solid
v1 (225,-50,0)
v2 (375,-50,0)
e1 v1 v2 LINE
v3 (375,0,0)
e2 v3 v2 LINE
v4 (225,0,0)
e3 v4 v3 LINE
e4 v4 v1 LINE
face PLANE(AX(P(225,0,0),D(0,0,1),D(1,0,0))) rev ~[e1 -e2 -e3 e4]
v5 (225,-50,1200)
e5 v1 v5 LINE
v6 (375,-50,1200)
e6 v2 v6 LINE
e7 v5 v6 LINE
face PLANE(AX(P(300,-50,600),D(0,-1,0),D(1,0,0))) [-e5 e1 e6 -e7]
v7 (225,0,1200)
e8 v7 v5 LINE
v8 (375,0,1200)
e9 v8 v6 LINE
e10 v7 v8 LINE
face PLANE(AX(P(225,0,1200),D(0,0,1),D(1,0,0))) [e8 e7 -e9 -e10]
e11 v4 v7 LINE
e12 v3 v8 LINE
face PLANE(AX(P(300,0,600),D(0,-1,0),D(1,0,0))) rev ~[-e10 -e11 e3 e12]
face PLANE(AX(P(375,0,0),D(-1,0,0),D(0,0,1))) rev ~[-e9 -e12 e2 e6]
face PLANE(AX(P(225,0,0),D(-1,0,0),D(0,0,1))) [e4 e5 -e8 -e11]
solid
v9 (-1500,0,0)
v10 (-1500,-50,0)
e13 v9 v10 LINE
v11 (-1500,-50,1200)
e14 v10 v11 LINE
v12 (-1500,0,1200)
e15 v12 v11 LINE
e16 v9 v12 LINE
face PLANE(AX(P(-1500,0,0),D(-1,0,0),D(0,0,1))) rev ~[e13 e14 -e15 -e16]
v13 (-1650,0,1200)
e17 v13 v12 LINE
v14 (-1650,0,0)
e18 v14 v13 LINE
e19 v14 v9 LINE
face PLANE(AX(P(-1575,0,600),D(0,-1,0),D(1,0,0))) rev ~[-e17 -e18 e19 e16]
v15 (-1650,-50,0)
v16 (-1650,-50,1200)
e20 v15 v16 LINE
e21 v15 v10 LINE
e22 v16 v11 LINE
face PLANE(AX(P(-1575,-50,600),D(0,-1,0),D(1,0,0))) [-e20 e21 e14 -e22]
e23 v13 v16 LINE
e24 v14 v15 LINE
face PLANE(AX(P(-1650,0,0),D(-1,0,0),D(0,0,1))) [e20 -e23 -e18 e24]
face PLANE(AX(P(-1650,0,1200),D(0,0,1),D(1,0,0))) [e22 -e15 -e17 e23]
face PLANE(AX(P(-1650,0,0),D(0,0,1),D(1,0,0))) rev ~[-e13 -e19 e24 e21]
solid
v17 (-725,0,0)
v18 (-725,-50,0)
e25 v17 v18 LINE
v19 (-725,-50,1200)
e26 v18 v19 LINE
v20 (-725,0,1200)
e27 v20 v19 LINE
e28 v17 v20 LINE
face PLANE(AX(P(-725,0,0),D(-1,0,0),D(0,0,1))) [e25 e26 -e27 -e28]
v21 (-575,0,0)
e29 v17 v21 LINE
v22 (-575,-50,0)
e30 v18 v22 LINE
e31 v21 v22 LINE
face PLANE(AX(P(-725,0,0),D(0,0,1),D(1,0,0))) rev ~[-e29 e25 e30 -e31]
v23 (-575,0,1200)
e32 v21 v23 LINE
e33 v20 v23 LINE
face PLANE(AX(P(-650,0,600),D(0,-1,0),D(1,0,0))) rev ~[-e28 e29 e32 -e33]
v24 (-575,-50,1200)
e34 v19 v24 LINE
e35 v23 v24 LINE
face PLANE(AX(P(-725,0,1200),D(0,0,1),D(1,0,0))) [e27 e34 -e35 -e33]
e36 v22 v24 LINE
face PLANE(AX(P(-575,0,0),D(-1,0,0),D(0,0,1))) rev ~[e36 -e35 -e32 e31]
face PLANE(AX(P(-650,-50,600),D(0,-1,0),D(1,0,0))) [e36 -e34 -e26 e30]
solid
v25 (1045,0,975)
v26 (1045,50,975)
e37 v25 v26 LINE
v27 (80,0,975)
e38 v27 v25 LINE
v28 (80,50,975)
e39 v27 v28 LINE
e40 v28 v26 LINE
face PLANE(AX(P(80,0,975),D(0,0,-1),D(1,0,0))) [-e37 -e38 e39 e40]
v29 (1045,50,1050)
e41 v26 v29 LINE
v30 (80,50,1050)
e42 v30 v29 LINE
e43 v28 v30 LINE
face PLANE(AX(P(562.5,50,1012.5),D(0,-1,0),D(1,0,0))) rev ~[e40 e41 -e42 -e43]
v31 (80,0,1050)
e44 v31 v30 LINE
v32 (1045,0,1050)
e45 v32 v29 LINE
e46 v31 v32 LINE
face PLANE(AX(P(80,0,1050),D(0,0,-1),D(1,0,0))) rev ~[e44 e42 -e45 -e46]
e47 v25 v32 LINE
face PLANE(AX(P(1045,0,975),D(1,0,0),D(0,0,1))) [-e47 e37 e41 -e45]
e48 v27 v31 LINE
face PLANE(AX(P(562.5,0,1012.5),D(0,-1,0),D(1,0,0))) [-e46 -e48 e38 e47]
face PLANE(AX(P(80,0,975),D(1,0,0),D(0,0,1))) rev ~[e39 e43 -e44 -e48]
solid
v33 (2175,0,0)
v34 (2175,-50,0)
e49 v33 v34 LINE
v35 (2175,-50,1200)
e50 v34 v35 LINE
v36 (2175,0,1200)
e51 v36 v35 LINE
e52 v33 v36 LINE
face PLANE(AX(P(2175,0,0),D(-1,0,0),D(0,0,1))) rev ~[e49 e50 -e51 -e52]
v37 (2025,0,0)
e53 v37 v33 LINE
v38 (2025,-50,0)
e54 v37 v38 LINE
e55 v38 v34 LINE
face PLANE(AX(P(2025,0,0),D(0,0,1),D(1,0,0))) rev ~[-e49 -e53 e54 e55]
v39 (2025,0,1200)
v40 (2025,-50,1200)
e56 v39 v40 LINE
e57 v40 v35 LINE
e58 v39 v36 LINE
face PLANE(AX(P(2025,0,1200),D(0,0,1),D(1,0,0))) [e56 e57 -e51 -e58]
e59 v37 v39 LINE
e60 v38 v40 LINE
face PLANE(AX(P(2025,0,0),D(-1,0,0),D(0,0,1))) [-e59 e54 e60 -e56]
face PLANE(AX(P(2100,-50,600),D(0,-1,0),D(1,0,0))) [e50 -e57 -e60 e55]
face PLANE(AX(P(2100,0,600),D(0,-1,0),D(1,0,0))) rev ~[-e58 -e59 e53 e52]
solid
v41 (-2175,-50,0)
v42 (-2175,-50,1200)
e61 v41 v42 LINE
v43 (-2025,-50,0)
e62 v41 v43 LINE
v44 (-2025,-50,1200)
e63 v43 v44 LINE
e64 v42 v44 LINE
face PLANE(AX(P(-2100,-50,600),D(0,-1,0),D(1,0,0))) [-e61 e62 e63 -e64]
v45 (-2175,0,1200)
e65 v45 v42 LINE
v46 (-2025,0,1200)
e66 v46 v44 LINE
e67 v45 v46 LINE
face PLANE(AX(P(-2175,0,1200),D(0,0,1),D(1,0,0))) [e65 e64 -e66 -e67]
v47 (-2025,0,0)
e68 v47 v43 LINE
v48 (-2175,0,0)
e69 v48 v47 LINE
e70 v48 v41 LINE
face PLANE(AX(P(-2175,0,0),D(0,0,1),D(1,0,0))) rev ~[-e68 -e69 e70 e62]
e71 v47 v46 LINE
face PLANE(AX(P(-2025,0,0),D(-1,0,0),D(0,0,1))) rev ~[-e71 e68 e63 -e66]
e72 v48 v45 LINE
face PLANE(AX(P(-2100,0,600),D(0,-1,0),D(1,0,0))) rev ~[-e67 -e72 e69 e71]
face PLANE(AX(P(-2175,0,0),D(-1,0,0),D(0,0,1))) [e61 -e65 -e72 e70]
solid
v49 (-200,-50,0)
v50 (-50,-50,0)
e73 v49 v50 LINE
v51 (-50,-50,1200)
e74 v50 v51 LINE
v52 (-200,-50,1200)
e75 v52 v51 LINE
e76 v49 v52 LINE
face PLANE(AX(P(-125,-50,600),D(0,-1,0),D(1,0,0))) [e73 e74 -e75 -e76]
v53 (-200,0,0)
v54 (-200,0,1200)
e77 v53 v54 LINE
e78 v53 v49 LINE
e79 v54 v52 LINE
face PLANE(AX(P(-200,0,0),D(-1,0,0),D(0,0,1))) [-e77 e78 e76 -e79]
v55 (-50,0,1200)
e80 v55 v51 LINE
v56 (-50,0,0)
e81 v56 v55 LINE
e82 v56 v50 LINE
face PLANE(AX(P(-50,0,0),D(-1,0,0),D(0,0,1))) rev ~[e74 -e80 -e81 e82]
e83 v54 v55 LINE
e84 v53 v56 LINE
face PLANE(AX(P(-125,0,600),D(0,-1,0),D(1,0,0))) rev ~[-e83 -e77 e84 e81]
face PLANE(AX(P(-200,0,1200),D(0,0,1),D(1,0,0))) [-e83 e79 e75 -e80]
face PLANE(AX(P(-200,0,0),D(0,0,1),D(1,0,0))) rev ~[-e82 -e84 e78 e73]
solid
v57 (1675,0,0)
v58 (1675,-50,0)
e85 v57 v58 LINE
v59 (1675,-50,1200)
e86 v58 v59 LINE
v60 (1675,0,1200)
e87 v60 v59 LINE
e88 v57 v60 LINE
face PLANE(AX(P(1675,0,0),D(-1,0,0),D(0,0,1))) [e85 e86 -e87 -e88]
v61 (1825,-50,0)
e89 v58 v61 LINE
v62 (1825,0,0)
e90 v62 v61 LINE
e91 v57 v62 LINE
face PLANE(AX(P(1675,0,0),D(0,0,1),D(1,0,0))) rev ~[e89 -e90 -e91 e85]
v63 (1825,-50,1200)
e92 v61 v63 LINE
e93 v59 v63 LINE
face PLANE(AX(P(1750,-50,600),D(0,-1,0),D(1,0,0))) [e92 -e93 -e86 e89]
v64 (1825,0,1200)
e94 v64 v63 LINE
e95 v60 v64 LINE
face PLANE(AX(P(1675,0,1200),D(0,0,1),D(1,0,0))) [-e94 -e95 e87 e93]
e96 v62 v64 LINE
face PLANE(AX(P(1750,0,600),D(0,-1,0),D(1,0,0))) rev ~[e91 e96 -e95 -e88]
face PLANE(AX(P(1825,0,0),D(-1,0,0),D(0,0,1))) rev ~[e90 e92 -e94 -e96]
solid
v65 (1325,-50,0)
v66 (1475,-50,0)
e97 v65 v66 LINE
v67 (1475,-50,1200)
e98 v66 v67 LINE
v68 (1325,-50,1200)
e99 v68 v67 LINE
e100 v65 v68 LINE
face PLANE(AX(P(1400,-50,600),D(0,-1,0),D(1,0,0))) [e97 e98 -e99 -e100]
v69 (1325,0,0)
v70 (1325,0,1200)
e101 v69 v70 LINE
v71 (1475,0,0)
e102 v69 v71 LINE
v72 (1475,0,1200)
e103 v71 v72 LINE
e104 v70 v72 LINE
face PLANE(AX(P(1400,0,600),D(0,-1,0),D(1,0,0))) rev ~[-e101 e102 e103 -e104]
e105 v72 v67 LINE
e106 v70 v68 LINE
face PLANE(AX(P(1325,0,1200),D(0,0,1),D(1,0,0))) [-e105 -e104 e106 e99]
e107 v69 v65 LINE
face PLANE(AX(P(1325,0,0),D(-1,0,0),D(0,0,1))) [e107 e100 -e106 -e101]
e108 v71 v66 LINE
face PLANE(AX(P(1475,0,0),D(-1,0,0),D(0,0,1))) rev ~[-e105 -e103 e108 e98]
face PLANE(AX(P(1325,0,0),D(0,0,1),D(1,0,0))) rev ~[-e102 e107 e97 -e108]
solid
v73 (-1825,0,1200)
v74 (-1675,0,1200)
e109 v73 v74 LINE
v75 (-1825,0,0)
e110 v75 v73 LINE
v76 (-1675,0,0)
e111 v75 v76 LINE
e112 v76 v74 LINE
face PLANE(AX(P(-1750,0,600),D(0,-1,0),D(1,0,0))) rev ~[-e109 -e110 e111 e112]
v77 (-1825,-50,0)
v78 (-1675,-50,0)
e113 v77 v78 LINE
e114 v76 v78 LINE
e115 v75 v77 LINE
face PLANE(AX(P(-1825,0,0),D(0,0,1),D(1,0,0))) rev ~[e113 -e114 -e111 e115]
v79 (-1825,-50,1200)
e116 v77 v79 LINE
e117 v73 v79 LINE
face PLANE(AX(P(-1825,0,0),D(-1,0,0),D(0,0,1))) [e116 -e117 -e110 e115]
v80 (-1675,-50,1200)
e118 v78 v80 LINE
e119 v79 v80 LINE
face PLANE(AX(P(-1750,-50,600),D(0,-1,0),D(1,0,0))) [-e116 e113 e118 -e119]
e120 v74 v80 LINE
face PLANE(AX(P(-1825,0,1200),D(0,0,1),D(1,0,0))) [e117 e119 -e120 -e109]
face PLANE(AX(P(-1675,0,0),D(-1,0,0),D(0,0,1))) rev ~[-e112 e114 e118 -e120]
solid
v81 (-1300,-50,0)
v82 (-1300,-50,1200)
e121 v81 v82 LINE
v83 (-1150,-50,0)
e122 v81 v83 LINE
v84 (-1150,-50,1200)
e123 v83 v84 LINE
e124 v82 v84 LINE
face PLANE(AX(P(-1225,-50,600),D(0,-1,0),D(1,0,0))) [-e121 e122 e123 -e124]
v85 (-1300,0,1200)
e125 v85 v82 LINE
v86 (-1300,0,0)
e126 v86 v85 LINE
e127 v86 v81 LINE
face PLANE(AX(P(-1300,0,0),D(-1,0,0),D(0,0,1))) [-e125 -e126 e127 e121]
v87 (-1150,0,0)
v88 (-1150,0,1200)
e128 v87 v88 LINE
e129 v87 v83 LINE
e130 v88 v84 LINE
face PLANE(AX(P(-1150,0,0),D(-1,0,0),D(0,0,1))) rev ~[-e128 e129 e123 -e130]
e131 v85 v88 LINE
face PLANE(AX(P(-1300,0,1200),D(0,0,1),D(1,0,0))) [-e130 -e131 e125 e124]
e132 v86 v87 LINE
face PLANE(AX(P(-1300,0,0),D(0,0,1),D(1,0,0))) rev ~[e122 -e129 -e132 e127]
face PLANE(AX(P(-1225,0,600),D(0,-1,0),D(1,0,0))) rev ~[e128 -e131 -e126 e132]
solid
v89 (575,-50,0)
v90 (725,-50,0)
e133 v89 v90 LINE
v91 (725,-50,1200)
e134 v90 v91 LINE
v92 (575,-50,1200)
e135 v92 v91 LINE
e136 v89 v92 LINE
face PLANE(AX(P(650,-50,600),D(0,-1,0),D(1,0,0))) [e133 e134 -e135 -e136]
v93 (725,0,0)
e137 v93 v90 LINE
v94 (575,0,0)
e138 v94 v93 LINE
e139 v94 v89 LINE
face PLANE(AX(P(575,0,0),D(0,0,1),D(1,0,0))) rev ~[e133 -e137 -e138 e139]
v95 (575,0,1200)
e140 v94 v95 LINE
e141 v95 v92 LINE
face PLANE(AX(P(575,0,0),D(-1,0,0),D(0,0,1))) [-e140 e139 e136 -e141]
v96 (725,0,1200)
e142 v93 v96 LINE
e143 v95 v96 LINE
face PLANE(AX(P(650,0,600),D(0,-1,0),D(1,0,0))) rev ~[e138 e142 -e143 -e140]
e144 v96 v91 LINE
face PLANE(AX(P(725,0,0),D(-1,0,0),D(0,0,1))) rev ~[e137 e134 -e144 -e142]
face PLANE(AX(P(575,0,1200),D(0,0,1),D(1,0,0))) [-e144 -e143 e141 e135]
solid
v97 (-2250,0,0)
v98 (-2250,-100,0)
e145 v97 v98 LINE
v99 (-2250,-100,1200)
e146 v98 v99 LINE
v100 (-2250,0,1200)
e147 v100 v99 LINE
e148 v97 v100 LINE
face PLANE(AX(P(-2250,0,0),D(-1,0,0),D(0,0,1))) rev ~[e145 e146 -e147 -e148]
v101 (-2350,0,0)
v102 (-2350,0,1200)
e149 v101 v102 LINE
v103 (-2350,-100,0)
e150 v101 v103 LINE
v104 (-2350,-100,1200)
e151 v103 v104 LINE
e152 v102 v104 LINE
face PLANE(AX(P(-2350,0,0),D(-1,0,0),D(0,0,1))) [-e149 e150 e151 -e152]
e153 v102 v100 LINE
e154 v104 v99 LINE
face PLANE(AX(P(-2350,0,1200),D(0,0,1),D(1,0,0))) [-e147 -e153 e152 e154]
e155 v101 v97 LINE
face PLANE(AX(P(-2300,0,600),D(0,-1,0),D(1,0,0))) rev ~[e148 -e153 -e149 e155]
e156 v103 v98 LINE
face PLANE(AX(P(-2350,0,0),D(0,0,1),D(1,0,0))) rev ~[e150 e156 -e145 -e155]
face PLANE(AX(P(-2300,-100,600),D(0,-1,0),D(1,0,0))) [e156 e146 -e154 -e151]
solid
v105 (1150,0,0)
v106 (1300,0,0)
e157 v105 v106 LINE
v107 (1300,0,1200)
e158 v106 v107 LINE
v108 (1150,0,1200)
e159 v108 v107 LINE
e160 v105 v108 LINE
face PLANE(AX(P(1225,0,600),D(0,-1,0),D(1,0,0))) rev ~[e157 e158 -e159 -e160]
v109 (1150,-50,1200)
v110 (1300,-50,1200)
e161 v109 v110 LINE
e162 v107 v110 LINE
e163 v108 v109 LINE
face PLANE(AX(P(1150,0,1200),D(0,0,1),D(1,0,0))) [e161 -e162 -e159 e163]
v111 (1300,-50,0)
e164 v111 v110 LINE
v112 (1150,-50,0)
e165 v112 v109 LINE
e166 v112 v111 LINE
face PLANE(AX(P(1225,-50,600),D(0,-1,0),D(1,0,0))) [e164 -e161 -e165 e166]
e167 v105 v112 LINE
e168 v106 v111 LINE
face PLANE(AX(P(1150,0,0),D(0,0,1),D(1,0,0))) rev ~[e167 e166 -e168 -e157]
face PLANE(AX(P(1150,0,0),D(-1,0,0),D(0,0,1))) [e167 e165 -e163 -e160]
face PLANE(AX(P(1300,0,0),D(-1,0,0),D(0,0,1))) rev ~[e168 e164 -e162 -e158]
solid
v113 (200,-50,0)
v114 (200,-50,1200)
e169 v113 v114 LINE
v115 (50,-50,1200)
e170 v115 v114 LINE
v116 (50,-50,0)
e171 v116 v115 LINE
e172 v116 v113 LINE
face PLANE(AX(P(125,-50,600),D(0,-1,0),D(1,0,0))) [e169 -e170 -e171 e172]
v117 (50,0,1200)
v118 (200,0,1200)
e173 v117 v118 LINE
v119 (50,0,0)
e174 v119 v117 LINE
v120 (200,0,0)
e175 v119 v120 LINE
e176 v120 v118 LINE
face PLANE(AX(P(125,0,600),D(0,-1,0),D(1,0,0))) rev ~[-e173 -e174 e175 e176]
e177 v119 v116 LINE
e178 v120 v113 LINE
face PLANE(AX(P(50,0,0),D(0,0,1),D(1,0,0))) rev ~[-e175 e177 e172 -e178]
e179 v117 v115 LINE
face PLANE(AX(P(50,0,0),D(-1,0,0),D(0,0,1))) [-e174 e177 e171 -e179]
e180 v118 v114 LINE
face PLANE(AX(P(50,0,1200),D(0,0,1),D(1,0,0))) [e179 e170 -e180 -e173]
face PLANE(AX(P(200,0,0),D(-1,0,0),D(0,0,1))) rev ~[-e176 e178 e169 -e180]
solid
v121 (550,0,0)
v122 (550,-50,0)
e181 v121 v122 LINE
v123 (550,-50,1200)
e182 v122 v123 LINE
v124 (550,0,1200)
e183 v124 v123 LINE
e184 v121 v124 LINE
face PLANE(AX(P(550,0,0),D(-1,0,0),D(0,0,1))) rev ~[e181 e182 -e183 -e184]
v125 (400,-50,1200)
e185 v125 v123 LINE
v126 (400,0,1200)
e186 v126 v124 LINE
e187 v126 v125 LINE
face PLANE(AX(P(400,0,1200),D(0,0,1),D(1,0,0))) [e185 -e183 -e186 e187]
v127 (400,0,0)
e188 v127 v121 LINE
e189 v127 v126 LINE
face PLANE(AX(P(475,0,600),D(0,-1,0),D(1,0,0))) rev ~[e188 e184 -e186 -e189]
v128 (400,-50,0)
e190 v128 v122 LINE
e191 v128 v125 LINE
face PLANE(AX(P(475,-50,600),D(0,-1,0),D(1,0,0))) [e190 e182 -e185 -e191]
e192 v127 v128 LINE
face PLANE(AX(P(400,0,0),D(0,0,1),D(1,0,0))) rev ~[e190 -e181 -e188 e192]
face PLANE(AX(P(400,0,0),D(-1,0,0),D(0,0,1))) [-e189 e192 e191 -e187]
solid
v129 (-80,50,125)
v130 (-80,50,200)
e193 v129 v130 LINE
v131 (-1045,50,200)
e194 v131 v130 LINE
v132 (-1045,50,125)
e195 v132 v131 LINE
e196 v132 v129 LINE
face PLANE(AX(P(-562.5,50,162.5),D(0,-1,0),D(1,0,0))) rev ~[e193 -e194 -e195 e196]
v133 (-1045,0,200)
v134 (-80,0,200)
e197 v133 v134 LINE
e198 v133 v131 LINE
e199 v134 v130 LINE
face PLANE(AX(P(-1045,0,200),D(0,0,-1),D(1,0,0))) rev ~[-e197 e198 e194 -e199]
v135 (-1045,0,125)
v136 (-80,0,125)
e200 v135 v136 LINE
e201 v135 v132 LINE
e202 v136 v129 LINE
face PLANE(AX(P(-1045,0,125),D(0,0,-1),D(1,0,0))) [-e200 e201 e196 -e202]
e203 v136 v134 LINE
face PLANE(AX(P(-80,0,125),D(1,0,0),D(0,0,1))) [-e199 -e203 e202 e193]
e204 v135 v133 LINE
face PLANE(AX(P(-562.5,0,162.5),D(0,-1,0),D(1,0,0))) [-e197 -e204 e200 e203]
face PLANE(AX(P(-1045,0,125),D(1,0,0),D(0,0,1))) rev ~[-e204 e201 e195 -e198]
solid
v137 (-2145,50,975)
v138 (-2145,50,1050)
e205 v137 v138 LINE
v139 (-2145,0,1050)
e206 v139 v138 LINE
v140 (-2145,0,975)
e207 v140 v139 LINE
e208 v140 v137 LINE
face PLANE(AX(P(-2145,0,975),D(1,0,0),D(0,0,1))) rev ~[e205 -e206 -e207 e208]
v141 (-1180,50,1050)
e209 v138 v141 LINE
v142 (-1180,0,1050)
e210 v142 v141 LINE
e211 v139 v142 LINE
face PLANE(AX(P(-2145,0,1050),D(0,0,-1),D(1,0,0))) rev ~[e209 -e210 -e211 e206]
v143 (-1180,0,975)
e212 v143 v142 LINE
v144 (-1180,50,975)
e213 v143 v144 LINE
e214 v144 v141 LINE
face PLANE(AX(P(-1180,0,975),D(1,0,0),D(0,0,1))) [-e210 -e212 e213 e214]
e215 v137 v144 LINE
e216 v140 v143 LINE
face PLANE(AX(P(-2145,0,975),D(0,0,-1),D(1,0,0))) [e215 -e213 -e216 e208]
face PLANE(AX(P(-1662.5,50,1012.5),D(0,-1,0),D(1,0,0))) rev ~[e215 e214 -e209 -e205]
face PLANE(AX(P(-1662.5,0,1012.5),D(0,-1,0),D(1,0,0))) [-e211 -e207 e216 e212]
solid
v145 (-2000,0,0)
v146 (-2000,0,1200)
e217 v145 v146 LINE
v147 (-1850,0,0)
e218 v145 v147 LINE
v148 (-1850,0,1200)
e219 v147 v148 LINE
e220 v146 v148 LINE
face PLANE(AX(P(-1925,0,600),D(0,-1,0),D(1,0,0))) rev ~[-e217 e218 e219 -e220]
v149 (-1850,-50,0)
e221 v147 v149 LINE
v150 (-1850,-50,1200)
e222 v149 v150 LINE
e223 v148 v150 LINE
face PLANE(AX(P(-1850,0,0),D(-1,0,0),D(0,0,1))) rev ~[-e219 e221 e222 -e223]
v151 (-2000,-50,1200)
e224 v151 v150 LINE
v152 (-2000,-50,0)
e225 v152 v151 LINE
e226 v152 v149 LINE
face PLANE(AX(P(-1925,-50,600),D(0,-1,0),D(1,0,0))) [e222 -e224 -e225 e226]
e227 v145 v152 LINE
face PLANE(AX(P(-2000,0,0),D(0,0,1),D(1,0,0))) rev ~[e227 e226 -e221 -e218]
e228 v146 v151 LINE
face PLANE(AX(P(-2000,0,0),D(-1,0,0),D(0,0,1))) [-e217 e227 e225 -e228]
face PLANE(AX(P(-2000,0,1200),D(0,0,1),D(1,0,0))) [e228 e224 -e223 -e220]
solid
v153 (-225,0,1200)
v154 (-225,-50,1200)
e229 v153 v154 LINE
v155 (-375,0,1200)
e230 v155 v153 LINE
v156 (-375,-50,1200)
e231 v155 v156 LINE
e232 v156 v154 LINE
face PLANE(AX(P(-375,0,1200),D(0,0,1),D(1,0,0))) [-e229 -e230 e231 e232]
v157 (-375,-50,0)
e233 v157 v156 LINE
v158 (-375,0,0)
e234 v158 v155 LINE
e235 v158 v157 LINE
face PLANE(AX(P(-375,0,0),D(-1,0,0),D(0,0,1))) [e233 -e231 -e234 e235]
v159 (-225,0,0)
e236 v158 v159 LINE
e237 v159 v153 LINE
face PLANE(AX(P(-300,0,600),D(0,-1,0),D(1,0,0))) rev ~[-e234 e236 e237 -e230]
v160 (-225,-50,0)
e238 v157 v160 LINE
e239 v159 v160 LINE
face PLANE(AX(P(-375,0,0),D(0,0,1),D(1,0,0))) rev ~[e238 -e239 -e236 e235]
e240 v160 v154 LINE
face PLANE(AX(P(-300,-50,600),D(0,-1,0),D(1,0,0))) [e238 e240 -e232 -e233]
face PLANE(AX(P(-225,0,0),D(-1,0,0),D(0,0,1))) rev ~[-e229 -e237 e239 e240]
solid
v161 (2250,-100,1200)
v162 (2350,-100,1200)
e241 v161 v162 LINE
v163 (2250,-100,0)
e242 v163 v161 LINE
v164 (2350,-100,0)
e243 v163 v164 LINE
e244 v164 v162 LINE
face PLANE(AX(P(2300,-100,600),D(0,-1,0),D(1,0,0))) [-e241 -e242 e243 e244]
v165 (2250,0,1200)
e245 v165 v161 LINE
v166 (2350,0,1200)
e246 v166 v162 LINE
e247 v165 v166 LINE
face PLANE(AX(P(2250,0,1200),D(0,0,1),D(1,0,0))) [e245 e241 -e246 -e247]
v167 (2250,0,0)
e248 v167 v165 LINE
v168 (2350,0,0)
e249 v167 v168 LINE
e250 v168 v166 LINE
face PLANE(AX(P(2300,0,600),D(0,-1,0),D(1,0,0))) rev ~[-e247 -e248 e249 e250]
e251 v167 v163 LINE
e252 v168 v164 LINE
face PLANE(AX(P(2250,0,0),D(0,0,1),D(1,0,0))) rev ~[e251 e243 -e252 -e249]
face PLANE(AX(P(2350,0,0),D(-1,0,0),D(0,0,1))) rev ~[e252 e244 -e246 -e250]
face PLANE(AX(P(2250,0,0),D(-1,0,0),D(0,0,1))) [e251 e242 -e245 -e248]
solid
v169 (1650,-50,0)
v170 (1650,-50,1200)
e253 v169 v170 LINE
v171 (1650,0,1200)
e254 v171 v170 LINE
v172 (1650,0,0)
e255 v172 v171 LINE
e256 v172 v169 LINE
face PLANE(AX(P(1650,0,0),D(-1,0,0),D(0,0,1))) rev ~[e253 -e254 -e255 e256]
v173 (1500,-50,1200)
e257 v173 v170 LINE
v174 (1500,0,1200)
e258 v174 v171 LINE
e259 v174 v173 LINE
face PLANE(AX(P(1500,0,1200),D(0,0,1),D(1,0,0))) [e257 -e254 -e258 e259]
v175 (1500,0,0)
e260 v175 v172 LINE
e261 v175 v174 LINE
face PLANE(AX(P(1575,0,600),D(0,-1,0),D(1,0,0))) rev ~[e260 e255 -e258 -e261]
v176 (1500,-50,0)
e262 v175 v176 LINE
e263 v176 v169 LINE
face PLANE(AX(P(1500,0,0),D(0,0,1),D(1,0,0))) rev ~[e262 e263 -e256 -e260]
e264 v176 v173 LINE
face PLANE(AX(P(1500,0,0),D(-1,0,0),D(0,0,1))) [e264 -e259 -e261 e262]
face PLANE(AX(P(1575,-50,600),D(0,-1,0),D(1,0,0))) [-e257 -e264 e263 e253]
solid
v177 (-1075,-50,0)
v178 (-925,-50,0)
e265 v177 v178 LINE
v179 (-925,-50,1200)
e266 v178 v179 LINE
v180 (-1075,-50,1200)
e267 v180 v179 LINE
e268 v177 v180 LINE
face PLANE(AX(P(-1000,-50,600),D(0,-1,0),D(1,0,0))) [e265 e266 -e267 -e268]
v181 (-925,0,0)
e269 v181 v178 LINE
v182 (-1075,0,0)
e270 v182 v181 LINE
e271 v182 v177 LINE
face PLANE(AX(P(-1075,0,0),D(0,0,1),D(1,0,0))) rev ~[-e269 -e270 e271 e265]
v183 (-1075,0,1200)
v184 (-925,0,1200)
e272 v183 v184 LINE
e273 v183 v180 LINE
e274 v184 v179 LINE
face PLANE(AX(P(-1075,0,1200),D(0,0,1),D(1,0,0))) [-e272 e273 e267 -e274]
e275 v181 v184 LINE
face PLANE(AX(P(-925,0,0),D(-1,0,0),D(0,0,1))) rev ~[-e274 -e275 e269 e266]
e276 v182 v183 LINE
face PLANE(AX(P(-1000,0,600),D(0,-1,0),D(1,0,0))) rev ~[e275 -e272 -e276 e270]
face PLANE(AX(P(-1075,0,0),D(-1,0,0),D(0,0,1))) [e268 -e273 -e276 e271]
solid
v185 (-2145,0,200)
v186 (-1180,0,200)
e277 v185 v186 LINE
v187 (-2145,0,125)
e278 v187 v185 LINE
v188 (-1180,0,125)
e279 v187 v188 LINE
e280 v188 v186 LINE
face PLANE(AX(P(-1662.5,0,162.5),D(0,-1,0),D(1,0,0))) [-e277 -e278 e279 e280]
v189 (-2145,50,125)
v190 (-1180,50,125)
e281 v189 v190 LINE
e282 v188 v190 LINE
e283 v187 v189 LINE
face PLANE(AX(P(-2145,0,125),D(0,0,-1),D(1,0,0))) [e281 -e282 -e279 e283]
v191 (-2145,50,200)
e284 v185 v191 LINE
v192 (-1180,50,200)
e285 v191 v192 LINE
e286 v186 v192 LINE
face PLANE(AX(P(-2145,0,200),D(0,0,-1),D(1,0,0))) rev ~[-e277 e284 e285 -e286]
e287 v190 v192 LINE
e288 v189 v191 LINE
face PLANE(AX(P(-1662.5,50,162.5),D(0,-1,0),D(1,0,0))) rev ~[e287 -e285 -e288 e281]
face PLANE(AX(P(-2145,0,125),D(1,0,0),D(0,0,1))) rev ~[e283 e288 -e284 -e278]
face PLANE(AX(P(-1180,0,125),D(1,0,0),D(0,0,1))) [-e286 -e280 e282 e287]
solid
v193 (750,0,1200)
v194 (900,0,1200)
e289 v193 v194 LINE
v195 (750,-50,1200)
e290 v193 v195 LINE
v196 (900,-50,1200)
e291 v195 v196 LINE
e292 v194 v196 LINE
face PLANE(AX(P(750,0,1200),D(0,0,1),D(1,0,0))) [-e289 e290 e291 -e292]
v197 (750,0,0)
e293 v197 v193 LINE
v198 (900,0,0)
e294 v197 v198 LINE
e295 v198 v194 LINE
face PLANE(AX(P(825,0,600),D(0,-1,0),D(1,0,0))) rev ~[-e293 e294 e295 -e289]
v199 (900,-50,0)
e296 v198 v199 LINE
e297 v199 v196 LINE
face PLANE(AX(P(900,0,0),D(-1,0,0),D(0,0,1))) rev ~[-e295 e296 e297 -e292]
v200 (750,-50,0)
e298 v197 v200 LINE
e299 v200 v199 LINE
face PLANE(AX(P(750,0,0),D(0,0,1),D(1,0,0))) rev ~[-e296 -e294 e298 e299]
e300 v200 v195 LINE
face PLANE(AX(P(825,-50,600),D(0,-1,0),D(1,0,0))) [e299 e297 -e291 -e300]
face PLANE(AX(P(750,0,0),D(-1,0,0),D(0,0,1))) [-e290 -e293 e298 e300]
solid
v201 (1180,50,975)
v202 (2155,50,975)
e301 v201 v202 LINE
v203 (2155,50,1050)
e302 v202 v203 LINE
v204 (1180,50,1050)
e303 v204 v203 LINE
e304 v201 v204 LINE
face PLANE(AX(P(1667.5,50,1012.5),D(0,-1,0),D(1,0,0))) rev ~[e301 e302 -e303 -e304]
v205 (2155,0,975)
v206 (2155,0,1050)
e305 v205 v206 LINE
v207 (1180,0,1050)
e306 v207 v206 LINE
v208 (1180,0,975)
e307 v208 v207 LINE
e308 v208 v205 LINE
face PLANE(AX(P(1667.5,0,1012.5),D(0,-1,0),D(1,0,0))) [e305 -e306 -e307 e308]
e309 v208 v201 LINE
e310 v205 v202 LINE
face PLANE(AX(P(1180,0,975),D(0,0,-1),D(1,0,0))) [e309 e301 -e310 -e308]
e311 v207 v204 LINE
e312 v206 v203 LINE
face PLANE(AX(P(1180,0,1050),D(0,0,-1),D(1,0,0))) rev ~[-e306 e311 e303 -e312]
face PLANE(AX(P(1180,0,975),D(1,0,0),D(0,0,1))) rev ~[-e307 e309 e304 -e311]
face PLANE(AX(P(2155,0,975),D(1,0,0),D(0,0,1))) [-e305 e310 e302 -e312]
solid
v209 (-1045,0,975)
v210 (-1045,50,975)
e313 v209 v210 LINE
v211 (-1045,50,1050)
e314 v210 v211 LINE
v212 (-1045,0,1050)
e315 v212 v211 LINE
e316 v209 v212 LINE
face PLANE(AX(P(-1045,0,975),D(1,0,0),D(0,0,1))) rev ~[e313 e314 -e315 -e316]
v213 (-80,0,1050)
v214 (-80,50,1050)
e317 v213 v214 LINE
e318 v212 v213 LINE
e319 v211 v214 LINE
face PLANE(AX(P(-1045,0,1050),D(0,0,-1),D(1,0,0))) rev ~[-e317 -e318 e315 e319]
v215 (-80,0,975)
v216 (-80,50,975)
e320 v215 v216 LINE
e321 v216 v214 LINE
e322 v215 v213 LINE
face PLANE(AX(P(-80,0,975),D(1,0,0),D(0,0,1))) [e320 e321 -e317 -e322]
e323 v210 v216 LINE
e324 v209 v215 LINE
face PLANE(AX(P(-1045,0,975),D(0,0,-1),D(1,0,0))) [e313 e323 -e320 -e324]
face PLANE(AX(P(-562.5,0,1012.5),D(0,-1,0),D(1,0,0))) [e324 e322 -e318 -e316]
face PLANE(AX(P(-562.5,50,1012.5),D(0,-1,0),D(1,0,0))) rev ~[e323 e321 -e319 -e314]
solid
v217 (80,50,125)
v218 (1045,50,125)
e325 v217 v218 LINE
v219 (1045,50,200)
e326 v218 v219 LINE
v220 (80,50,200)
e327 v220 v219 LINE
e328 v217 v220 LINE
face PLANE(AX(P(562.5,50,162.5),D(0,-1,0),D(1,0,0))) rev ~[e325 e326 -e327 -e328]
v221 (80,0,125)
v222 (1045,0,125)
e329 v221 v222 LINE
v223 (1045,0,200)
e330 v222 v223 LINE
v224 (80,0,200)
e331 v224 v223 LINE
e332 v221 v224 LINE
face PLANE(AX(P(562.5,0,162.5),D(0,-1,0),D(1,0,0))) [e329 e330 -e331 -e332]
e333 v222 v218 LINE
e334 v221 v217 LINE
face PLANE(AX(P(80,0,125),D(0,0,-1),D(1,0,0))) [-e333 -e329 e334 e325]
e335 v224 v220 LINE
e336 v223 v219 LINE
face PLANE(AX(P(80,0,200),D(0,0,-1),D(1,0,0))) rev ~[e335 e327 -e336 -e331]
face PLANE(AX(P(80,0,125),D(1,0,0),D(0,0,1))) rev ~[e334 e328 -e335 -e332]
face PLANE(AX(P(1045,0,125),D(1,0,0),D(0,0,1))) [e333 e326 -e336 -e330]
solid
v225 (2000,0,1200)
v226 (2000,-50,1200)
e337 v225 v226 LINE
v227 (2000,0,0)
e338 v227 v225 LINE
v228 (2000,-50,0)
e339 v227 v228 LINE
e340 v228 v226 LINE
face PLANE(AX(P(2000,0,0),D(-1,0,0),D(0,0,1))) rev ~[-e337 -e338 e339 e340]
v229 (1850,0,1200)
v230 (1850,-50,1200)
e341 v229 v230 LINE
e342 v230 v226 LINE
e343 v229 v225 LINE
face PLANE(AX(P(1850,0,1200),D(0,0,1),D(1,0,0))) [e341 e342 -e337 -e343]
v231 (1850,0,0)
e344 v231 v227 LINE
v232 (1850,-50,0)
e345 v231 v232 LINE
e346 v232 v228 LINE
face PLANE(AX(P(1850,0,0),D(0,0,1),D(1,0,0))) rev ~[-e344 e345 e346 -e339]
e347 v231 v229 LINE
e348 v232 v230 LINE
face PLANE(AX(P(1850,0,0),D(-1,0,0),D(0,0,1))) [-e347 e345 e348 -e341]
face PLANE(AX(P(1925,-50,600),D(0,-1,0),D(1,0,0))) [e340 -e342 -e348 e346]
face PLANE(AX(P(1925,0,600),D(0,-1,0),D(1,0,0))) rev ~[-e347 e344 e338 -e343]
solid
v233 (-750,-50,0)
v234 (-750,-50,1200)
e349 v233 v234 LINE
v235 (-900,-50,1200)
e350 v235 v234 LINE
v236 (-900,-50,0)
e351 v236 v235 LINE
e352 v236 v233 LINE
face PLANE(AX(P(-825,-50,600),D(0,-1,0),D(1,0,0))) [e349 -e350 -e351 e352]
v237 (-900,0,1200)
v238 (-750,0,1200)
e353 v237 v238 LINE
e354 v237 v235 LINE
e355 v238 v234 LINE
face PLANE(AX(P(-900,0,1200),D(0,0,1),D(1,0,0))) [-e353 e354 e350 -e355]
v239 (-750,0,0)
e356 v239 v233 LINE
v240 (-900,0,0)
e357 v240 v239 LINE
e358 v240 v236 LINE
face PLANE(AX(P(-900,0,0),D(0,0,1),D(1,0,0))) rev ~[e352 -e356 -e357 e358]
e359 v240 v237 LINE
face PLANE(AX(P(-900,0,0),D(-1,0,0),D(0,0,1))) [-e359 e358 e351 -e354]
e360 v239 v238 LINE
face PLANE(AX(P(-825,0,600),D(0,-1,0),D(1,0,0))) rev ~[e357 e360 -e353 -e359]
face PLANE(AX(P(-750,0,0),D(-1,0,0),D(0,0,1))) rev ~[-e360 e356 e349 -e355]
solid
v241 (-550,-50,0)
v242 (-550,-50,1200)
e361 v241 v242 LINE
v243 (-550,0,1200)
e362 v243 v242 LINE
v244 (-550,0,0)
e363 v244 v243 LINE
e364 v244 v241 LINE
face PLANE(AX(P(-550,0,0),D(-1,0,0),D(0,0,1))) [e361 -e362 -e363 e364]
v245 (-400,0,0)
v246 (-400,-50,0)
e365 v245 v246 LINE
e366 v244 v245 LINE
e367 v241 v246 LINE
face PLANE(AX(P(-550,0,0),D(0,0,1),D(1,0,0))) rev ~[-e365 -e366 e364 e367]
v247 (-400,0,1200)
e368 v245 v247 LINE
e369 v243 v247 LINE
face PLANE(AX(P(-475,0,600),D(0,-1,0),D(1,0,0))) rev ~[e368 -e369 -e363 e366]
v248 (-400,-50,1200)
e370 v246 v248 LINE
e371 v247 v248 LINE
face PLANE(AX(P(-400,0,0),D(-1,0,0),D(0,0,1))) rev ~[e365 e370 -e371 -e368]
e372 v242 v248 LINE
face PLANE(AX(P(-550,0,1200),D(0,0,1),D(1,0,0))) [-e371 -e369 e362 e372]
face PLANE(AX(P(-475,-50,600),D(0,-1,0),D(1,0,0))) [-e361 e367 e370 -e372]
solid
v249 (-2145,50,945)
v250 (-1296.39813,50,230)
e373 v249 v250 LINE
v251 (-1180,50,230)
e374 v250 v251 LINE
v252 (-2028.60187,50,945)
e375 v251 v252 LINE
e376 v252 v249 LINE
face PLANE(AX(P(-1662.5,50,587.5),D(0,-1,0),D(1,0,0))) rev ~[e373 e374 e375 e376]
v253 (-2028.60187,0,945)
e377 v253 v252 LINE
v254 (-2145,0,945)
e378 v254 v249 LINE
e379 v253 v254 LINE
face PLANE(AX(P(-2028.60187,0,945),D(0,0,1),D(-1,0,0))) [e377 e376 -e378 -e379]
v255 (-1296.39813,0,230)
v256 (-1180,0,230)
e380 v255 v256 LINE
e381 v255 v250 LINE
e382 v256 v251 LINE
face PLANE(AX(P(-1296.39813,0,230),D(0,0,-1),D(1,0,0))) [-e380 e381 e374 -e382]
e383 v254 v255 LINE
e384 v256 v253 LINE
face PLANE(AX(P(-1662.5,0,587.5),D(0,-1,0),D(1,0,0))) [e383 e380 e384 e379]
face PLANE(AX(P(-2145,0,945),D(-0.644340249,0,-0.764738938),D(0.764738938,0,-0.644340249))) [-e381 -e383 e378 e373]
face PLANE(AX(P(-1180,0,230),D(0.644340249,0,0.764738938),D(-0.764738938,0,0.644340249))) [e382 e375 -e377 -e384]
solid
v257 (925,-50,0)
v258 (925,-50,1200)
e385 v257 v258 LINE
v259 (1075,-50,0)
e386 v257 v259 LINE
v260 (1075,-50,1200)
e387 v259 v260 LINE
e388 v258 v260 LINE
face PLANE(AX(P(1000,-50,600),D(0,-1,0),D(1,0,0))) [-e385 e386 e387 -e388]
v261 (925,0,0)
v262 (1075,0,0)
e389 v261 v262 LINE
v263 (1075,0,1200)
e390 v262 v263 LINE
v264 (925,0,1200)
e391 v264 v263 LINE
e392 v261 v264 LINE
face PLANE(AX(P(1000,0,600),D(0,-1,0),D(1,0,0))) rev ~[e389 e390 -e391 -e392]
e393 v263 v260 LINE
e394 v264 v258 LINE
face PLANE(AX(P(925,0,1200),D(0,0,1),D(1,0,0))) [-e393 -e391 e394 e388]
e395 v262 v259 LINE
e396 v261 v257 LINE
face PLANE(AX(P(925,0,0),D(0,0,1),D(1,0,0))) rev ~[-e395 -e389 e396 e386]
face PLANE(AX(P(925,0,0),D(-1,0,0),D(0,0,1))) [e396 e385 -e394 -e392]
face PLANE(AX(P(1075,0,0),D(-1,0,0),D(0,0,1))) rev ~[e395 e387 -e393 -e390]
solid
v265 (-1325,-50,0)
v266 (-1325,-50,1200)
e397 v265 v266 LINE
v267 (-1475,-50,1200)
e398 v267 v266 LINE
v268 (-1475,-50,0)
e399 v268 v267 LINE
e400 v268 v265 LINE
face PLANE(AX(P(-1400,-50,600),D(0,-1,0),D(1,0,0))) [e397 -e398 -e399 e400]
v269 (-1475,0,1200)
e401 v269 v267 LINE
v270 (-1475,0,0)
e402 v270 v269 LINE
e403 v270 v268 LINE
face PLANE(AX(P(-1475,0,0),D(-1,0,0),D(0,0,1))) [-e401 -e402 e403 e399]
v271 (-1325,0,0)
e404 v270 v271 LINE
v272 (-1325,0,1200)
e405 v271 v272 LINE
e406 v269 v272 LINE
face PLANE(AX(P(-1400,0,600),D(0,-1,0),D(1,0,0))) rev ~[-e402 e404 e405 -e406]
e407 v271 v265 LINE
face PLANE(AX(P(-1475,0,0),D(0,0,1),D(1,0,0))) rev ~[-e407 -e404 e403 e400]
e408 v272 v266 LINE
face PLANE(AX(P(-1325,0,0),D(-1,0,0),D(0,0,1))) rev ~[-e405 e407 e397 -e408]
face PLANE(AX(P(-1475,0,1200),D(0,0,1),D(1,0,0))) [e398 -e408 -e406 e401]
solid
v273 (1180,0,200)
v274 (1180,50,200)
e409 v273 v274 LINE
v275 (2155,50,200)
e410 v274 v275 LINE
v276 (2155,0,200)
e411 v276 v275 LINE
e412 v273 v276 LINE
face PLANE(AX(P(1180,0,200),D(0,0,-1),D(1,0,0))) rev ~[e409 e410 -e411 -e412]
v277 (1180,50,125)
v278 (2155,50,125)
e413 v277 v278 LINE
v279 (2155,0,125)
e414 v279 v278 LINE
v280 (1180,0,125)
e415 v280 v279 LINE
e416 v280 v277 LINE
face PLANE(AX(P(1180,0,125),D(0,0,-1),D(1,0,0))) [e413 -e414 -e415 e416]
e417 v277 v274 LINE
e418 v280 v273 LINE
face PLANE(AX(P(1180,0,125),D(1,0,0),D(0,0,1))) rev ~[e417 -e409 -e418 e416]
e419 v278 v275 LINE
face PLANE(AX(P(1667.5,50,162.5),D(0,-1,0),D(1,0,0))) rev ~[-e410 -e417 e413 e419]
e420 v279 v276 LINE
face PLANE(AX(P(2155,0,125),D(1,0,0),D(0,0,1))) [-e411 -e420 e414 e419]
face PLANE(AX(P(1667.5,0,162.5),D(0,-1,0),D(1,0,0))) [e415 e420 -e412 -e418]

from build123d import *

# Parameters (mm, degrees)
F0_W     = 100
F0_H     = 1200
F1_DEPTH = 100
F2_W     = 150
F2_H     = 1200
F3_DEPTH = 50
F4_W     = 965
F4_H     = 75
F4_W_2   = 975
F5_DEPTH = 50


with BuildPart() as f1:
    # F0 (on Front) → F1 (new body)
    with BuildSketch(Plane.XZ):
        with Locations((-2300, 600)):
            Rectangle(F0_W, F0_H)
        with Locations((2300, 600)):
            Rectangle(F0_W, F0_H)
    extrude(amount=F1_DEPTH)


with BuildPart() as f3:
    # F2 (on Front) → F3 (new body)
    with BuildSketch(Plane.XZ):
        with Locations((-2100, 600)):
            Rectangle(F2_W, F2_H)
        with Locations((-125, 600)):
            Rectangle(F2_W, F2_H)
        with Locations((125, 600)):
            Rectangle(F2_W, F2_H)
        with Locations((2100, 600)):
            Rectangle(F2_W, F2_H)
        with Locations((-1925, 600)):
            Rectangle(F2_W, F2_H)
        with Locations((-1750, 600)):
            Rectangle(F2_W, F2_H)
        with Locations((-1575, 600)):
            Rectangle(F2_W, F2_H)
        with Locations((-1400, 600)):
            Rectangle(F2_W, F2_H)
        with Locations((-1225, 600)):
            Rectangle(F2_W, F2_H)
        with Locations((-300, 600)):
            Rectangle(F2_W, F2_H)
        with Locations((-475, 600)):
            Rectangle(F2_W, F2_H)
        with Locations((-650, 600)):
            Rectangle(F2_W, F2_H)
        with Locations((-825, 600)):
            Rectangle(F2_W, F2_H)
        with Locations((-1000, 600)):
            Rectangle(F2_W, F2_H)
        with Locations((300, 600)):
            Rectangle(F2_W, F2_H)
        with Locations((475, 600)):
            Rectangle(F2_W, F2_H)
        with Locations((650, 600)):
            Rectangle(F2_W, F2_H)
        with Locations((825, 600)):
            Rectangle(F2_W, F2_H)
        with Locations((1000, 600)):
            Rectangle(F2_W, F2_H)
        with Locations((1925, 600)):
            Rectangle(F2_W, F2_H)
        with Locations((1750, 600)):
            Rectangle(F2_W, F2_H)
        with Locations((1575, 600)):
            Rectangle(F2_W, F2_H)
        with Locations((1400, 600)):
            Rectangle(F2_W, F2_H)
        with Locations((1225, 600)):
            Rectangle(F2_W, F2_H)
    extrude(amount=F3_DEPTH)


with BuildPart() as f5:
    # F4 (on Front) → F5 (new body)
    with BuildSketch(Plane.XZ):
        with Locations((-1662.5, 1012.5)):
            Rectangle(F4_W, F4_H)
        with Locations((-562.5, 1012.5)):
            Rectangle(F4_W, F4_H)
        with Locations((562.5, 1012.5)):
            Rectangle(F4_W, F4_H)
        with Locations((1667.5, 1012.5)):
            Rectangle(F4_W_2, F4_H)
        with Locations((1667.5, 162.5)):
            Rectangle(F4_W_2, F4_H)
        with Locations((-1662.5, 162.5)):
            Rectangle(F4_W, F4_H)
        with Locations((-562.5, 162.5)):
            Rectangle(F4_W, F4_H)
        with Locations((562.5, 162.5)):
            Rectangle(F4_W, F4_H)
        Polygon((-1296.39813, 230), (-1180, 230), (-2028.60187, 945), (-2145, 945), align=None)
    extrude(amount=-F5_DEPTH)


solid = Compound([f1.part, f3.part, f5.part])
